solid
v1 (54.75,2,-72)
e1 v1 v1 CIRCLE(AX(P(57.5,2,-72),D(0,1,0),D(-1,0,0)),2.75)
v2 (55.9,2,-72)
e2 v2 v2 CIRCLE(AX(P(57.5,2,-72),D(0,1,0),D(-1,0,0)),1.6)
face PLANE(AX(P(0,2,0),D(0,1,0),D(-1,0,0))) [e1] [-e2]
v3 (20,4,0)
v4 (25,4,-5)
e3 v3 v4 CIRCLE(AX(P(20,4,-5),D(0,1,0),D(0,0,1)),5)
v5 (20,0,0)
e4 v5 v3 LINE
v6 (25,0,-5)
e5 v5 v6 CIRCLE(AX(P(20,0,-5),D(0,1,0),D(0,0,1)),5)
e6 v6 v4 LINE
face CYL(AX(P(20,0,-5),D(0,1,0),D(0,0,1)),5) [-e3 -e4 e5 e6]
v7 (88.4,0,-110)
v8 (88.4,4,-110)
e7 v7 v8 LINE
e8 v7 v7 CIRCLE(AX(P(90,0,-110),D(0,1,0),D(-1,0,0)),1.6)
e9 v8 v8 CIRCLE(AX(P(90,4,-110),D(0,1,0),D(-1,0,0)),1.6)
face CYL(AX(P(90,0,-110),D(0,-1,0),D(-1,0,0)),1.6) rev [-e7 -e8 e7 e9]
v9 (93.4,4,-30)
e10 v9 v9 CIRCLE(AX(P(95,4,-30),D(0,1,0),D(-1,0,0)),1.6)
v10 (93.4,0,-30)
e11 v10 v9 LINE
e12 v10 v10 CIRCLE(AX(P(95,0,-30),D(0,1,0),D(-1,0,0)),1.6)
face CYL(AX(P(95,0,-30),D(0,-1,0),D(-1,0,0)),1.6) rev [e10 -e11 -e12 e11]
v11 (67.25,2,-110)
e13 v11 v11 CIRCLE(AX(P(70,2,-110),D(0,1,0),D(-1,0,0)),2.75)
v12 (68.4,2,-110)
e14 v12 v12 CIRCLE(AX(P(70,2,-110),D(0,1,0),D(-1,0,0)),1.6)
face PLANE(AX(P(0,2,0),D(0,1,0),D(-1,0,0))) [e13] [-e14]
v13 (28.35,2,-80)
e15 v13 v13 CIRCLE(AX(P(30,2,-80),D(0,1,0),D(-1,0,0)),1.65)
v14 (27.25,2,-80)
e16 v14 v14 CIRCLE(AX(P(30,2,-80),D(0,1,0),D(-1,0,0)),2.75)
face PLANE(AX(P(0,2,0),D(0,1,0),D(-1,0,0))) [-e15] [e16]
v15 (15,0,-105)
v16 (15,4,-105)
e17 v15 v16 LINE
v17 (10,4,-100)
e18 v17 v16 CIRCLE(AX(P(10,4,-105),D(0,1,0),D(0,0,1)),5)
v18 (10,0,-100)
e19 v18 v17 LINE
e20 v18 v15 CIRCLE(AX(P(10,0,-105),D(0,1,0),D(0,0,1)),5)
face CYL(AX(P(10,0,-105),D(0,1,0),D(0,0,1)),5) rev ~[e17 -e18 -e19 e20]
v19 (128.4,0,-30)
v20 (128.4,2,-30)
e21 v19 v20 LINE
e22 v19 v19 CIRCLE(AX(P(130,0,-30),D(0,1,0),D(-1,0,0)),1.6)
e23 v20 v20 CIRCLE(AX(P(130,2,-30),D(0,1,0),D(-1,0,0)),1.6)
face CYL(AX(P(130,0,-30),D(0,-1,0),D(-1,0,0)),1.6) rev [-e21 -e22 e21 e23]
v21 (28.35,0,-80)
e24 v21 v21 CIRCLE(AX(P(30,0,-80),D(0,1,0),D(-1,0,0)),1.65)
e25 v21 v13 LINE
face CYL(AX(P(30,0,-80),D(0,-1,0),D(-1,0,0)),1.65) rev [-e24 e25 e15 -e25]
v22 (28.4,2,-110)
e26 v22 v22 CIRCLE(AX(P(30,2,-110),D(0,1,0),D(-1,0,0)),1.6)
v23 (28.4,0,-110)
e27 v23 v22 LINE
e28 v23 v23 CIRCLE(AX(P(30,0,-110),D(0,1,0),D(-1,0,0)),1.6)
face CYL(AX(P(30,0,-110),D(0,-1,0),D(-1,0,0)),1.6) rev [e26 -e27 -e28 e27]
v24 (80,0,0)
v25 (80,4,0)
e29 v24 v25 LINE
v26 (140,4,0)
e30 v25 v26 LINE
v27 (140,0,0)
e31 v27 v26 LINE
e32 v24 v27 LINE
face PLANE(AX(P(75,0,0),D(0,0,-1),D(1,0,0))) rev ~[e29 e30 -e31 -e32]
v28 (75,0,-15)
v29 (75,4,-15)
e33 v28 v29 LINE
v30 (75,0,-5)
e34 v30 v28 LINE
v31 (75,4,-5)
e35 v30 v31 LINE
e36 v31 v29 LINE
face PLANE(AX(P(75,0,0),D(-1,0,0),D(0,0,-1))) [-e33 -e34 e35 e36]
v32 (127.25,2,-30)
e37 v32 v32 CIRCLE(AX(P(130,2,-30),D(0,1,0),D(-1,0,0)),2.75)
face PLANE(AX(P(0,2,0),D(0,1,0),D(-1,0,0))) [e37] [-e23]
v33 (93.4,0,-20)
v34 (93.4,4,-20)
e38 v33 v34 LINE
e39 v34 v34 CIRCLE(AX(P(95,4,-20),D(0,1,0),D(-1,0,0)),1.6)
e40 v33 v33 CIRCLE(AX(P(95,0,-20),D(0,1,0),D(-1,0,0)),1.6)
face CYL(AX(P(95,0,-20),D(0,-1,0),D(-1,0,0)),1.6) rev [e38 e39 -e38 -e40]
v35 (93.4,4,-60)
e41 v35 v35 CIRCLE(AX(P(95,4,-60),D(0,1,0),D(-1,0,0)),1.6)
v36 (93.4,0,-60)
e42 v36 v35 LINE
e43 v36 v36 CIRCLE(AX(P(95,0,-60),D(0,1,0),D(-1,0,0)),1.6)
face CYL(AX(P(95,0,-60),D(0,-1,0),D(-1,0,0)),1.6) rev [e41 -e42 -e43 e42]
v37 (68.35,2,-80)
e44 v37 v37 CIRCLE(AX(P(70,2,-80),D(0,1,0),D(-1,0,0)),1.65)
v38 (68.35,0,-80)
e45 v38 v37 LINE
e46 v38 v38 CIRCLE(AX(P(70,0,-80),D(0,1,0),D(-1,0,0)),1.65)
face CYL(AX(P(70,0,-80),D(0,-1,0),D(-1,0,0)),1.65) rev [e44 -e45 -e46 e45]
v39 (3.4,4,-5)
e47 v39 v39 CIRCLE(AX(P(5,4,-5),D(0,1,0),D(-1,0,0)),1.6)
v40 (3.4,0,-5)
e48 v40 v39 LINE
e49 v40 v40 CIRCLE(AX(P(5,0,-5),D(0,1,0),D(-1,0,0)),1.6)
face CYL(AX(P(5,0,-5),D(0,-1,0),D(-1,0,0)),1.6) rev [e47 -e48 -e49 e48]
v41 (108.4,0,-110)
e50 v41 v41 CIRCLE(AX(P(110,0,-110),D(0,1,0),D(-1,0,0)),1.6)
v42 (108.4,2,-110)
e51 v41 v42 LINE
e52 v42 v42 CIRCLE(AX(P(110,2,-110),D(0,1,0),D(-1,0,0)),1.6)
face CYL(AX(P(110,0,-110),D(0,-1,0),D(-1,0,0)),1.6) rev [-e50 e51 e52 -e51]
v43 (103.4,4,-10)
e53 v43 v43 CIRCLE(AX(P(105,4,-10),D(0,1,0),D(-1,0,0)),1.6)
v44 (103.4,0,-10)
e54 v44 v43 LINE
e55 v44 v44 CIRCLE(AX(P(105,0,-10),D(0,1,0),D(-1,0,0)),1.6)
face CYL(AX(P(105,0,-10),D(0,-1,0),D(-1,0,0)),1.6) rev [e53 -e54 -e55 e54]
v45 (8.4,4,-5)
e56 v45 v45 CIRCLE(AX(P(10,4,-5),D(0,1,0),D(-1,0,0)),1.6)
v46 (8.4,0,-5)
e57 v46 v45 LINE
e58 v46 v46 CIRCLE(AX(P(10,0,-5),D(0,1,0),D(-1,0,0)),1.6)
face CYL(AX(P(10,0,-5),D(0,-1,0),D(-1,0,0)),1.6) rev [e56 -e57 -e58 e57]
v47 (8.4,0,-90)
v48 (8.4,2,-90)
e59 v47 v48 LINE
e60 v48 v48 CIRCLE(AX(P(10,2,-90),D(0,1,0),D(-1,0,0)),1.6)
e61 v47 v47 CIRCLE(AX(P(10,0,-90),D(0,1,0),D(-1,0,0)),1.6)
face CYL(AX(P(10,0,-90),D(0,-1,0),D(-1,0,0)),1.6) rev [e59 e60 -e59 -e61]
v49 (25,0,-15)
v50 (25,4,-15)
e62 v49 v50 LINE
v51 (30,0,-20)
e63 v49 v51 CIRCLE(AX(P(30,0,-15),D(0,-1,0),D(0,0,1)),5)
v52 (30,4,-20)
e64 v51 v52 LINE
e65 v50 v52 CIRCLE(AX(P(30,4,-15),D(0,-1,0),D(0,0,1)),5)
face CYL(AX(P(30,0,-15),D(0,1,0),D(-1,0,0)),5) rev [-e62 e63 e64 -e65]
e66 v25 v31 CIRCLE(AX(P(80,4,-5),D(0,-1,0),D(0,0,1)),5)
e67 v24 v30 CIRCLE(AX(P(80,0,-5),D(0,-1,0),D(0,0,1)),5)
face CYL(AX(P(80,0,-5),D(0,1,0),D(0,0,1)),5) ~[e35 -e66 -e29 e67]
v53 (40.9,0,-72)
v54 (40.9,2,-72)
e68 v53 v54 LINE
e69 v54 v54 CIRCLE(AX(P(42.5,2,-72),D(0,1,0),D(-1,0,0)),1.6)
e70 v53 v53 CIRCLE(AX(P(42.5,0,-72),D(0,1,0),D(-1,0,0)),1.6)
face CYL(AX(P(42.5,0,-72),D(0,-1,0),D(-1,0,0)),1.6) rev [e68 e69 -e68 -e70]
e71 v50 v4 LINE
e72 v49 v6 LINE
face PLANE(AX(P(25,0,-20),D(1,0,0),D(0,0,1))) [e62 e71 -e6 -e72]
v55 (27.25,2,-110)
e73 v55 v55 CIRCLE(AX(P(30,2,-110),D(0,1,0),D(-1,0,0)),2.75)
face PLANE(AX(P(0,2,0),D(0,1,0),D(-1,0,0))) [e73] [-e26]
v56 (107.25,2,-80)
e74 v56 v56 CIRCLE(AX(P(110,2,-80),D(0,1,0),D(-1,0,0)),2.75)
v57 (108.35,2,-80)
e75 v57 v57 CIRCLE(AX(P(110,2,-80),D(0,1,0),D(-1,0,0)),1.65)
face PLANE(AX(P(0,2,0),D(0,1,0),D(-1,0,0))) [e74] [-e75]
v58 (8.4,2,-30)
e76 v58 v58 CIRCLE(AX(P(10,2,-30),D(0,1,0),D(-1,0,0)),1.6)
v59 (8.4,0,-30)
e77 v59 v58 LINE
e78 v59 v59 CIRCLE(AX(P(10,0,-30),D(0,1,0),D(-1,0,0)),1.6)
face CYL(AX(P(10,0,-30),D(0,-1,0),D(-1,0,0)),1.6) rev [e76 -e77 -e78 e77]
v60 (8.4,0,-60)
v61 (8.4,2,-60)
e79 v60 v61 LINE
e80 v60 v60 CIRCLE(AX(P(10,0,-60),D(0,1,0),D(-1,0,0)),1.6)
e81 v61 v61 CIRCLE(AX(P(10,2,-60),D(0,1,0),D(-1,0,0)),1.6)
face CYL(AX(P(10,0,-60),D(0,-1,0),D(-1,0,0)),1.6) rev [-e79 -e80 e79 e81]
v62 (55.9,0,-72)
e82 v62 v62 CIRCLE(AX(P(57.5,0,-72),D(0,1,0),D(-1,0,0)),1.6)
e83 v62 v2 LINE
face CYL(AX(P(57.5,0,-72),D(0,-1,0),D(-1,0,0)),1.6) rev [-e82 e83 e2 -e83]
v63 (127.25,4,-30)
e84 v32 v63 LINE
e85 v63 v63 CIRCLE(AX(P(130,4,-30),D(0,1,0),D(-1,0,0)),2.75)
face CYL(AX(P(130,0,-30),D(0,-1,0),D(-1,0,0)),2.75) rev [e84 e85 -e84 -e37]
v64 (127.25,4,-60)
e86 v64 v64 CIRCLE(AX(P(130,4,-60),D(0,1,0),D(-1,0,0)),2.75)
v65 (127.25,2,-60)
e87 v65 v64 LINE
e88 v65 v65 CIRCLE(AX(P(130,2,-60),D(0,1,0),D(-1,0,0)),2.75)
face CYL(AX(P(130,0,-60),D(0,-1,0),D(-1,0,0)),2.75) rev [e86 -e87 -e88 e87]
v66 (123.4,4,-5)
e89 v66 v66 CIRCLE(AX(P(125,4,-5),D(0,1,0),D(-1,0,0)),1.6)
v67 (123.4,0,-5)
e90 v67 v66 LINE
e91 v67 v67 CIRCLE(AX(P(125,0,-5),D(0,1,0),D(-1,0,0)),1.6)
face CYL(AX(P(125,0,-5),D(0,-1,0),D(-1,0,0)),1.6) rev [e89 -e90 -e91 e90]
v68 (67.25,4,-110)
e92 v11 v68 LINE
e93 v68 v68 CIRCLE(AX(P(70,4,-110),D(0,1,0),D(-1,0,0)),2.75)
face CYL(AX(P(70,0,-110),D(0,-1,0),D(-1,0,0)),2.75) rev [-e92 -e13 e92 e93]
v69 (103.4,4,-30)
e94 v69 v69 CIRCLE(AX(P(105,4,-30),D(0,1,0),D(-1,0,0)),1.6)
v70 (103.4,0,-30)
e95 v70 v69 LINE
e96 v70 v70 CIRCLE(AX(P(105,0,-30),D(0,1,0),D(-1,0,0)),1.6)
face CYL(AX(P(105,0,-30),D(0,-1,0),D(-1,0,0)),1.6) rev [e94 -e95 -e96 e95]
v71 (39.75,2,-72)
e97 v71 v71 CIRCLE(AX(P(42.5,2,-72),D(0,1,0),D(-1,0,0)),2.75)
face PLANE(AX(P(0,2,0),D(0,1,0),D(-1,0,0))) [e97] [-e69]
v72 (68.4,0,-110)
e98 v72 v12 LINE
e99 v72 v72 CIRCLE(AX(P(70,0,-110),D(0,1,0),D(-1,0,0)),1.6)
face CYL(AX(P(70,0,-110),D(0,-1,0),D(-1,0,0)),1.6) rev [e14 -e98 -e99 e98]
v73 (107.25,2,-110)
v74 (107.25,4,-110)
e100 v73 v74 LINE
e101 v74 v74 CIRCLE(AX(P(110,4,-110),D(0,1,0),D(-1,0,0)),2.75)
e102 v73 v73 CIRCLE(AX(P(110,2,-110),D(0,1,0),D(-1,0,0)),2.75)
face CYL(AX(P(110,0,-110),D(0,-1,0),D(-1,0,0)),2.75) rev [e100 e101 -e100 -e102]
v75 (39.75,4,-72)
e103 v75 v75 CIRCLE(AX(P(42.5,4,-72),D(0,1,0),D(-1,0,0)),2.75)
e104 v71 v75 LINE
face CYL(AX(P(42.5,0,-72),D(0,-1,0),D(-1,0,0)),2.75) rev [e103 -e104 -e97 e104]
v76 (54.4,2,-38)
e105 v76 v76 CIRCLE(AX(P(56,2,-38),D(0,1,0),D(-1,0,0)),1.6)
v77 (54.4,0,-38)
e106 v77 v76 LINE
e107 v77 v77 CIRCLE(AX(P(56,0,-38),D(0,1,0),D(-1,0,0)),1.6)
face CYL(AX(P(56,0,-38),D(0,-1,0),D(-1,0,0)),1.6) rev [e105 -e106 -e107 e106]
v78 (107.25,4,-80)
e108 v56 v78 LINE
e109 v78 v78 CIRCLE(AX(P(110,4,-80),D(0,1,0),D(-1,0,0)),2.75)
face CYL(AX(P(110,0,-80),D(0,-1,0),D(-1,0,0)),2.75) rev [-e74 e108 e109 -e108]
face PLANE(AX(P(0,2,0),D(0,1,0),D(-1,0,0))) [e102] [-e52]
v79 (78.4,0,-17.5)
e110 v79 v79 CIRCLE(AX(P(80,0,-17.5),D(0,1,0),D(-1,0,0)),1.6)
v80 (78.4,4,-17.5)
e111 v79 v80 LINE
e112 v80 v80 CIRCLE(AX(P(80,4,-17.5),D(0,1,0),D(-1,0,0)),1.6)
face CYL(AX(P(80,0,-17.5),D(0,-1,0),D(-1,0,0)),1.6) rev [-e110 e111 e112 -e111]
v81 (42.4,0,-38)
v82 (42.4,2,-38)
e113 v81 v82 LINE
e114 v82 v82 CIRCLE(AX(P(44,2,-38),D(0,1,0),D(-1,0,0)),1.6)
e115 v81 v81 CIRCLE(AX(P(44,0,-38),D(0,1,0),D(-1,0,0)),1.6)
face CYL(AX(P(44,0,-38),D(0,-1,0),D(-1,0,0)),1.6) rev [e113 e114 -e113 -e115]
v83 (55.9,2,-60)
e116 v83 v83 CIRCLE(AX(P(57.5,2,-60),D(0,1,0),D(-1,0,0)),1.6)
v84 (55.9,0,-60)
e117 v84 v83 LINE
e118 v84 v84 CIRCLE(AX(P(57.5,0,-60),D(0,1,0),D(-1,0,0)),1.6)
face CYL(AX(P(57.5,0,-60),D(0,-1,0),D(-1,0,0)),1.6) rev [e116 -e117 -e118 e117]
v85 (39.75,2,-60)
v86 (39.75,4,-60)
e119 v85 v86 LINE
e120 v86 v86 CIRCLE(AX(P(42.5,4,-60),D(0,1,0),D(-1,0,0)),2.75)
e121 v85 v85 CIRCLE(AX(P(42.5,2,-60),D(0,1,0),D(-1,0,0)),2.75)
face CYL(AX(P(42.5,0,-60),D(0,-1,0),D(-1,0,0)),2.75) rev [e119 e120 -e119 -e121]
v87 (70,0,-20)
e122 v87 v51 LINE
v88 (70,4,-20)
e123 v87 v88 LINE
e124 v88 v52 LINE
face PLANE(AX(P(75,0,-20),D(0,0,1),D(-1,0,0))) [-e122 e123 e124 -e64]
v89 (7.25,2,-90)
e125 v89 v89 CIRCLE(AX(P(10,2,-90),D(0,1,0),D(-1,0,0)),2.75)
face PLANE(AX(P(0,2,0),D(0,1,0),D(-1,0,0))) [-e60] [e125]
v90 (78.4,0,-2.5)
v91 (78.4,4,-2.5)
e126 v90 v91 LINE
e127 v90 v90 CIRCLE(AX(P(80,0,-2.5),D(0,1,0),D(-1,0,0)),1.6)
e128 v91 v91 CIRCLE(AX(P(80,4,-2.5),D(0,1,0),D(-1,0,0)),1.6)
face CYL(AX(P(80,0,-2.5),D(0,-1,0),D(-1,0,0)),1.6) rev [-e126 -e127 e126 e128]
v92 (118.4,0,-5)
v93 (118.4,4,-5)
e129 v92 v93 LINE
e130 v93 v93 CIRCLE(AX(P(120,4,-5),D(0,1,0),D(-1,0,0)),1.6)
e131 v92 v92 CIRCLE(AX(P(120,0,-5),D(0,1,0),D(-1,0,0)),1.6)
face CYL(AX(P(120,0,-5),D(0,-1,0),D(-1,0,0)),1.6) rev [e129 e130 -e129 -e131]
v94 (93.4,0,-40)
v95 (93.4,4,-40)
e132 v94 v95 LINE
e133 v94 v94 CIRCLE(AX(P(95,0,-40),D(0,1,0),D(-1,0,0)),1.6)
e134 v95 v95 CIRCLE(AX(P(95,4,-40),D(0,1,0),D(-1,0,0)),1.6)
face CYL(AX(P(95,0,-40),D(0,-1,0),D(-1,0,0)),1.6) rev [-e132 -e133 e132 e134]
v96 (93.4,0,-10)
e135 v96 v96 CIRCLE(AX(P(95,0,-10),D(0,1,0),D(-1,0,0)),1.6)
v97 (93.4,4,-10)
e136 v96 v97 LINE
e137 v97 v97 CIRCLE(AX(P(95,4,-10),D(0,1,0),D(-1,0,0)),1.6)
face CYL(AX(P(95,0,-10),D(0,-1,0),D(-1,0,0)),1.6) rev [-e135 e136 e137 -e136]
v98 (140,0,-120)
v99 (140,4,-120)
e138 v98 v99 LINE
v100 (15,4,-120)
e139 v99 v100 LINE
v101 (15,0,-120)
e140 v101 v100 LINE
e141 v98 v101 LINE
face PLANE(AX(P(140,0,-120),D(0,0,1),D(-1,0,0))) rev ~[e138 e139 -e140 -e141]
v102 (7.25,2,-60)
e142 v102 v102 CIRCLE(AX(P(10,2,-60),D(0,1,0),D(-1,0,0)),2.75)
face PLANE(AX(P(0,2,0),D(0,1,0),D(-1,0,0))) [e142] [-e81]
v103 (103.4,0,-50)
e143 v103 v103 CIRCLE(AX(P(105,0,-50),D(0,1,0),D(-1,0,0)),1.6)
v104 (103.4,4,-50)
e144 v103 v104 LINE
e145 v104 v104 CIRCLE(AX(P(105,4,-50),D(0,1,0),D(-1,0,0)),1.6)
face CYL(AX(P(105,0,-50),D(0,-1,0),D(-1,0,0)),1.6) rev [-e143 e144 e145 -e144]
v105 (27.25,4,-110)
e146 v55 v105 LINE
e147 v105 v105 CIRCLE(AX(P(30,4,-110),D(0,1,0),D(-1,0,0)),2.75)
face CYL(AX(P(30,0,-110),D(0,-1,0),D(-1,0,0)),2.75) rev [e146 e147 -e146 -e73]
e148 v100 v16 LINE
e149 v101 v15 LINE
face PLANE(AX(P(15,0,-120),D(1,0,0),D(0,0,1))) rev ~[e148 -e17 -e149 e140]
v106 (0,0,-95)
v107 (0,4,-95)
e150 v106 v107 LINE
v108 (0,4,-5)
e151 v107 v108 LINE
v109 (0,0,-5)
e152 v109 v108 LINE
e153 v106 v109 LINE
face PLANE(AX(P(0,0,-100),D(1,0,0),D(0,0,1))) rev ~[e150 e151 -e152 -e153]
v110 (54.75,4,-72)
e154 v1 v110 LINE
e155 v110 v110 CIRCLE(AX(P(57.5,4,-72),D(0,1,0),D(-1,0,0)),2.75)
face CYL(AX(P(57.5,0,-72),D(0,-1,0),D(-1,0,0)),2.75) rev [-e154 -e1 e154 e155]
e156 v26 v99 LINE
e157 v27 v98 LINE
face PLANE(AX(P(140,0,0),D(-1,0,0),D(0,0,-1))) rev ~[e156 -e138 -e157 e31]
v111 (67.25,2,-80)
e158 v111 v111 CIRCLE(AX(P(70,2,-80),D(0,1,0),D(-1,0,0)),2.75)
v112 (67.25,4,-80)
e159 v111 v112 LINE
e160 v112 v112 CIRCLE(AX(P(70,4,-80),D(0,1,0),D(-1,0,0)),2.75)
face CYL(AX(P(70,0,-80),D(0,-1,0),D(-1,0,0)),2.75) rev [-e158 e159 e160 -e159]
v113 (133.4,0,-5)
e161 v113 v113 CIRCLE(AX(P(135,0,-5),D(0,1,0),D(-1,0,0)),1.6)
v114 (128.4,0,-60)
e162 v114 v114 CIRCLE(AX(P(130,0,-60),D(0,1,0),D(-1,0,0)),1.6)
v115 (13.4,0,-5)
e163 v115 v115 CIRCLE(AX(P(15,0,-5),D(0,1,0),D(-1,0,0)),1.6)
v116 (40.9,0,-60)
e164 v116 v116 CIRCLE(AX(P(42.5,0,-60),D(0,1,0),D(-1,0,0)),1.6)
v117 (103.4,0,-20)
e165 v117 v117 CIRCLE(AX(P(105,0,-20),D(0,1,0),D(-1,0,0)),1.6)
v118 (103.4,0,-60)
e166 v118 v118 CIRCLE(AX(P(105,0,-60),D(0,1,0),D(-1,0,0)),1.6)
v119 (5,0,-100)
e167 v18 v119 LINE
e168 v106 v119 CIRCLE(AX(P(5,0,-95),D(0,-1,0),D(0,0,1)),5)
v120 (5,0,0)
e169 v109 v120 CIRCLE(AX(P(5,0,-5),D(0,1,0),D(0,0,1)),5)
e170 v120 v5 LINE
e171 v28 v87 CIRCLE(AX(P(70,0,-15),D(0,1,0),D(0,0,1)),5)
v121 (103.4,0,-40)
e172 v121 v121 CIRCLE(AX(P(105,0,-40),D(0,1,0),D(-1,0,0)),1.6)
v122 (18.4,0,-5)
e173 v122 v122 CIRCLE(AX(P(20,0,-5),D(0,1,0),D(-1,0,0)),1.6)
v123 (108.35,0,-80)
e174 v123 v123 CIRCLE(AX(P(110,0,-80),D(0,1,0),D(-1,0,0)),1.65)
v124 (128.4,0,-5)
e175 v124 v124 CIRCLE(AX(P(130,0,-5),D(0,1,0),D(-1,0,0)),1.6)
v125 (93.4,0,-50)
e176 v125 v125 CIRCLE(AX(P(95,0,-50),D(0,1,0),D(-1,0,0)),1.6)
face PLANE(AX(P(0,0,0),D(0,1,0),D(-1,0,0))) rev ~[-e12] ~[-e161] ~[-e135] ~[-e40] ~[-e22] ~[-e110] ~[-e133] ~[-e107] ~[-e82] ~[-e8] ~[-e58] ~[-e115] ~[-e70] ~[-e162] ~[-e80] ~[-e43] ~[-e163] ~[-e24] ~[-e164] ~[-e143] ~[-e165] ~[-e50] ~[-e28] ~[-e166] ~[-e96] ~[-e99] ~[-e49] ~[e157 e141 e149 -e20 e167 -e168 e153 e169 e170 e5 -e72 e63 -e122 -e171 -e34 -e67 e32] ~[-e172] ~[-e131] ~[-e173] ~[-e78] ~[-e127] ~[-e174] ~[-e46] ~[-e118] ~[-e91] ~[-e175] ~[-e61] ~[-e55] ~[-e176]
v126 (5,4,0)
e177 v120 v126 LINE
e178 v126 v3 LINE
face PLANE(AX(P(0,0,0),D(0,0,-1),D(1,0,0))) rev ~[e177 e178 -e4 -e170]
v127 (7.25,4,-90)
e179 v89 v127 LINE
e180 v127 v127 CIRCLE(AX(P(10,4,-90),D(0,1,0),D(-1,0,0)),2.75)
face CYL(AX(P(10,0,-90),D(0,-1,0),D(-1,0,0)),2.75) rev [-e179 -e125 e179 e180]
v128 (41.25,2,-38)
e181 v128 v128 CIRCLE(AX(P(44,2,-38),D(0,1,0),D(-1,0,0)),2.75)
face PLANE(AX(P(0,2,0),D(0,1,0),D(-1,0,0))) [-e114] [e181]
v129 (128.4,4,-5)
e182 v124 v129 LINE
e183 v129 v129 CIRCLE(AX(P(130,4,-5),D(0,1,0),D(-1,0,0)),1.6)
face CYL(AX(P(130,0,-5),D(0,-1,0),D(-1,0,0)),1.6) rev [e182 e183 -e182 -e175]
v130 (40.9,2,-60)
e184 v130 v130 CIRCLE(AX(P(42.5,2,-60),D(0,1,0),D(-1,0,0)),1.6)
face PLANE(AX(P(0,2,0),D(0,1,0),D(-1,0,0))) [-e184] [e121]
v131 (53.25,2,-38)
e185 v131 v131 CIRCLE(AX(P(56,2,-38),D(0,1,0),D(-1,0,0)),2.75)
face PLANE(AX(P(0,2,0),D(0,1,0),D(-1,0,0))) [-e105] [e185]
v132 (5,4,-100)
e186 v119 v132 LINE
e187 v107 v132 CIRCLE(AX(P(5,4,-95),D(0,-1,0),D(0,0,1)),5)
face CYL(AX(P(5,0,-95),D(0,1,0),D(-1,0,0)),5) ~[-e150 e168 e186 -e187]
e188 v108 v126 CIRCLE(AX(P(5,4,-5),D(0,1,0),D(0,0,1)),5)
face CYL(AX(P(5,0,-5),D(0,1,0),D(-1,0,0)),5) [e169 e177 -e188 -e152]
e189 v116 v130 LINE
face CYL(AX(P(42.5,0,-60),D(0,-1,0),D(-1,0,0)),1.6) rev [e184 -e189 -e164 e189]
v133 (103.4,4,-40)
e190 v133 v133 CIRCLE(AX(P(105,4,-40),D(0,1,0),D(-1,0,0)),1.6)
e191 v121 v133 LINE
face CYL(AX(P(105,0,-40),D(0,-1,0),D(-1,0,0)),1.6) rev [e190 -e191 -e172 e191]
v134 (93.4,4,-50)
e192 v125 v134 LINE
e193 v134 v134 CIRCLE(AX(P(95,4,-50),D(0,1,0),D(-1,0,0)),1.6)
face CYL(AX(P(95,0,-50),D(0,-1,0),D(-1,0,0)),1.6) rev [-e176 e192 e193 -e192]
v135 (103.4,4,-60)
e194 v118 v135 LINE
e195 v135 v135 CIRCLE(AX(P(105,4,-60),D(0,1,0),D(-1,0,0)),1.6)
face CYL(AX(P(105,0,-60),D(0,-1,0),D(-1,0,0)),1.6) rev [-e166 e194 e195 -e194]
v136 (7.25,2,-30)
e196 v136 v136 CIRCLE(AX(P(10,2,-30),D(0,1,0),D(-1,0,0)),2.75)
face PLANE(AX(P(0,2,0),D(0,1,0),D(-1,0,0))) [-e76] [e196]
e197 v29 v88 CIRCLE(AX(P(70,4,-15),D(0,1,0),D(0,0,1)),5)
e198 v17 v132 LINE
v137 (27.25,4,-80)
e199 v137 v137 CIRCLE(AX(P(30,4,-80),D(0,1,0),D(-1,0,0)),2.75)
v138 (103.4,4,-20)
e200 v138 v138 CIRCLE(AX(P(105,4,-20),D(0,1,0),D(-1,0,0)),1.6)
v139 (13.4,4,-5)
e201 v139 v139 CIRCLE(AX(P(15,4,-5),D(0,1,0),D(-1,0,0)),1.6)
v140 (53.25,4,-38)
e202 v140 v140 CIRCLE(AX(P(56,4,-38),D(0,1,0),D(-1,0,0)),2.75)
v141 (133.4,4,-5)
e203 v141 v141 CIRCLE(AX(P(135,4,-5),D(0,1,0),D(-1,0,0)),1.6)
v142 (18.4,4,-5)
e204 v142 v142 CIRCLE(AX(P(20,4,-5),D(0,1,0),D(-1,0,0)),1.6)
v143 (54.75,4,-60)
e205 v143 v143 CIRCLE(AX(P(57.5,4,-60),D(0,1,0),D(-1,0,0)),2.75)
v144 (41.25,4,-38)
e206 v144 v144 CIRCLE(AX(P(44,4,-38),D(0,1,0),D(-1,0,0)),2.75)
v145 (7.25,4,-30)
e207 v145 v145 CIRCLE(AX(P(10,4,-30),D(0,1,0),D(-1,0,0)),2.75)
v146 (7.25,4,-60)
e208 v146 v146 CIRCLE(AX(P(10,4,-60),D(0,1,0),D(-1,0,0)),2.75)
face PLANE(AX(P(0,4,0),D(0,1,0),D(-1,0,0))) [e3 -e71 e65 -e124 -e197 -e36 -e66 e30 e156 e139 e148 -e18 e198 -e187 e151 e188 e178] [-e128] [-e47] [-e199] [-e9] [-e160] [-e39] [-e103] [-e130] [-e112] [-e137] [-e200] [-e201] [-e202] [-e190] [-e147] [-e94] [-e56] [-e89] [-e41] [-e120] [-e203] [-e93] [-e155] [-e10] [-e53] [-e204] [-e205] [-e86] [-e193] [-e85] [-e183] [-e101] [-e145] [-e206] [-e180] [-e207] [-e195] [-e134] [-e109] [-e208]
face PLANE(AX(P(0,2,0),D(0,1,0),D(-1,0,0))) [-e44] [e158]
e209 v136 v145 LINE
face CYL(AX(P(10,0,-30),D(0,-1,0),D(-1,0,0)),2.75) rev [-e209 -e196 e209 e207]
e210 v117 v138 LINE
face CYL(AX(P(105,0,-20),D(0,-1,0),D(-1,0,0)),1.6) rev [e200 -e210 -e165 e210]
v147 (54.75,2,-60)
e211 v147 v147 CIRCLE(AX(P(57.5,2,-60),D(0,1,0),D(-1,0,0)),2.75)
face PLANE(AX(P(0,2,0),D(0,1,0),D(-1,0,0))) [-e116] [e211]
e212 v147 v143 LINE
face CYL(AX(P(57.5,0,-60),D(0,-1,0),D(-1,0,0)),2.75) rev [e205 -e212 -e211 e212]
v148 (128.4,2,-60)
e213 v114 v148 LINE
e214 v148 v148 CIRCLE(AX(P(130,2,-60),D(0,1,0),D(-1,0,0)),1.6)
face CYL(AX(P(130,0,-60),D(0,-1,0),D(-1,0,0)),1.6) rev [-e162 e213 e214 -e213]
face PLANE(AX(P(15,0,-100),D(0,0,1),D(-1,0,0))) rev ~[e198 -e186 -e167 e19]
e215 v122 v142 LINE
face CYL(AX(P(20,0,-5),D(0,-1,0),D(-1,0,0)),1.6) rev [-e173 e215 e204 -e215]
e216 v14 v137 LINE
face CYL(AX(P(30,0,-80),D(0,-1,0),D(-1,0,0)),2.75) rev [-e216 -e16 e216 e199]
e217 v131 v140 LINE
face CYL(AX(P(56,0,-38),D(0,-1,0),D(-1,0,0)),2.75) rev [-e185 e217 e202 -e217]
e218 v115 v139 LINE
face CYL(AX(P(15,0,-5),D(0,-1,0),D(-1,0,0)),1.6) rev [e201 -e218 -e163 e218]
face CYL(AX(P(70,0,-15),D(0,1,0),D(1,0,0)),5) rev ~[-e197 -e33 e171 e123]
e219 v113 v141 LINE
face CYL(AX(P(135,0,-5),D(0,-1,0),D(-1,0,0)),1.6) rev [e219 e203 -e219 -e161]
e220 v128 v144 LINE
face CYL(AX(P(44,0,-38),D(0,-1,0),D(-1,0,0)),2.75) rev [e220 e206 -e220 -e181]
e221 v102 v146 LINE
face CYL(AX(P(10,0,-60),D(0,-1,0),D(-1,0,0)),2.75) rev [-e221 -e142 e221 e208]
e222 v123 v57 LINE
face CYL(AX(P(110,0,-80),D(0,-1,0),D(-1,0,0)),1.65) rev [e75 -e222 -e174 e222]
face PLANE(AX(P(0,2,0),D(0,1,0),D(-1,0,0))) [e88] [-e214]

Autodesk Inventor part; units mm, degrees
ref_plane "YZ Plane" through (0, 0, 0) normal (1, 0, 0) x (0, 1, 0)
ref_plane "XZ Plane" through (0, 0, 0) normal (0, 1, 0) x (-1, 0, 0)
ref_plane "XY Plane" through (0, 0, 0) normal (0, 0, 1) x (1, 0, 0)
sketch "Sketch1" plane through (0, 0, 0) normal (0, 1, 0) x (-1, 0, 0)
  line L0 (0, 0) -> (-140, 0)
  line L1 (-140, 0) -> (-140, -120)
  line L2 (-140, -120) -> (0, -120)
  line L3 (0, -120) -> (0, 0)
  line L4 (-25, 0) -> (-75, 0)
  line L5 (-75, 0) -> (-75, -20)
  line L6 (-75, -20) -> (-25, -20)
  line L7 (-25, -20) -> (-25, 0)
  circle A0 centre (-5, -5) radius 1.6
  circle A1 centre (-10, -5) radius 1.6
  circle A2 centre (-15, -5) radius 1.6
  circle A3 centre (-20, -5) radius 1.6
  circle A4 centre (-130, -30) radius 1.6
  line L8 (0, -60) -> (-140, -60) construction
  line L9 (-70, -120) -> (-70, 0) construction
  circle A5 centre (-135, -5) radius 1.6
  circle A6 centre (-130, -5) radius 1.6
  circle A7 centre (-125, -5) radius 1.6
  circle A8 centre (-120, -5) radius 1.6
  circle A9 centre (-130, -60) radius 1.6
  circle A10 centre (-130, -30) radius 2.75
  circle A11 centre (-130, -60) radius 2.75
  circle A12 centre (-5, -115) radius 1.6
  circle A13 centre (-10, -115) radius 1.6
  circle A14 centre (-30, -110) radius 1.6
  circle A15 centre (-30, -110) radius 2.75
  circle A16 centre (-110, -110) radius 1.6
  circle A17 centre (-110, -110) radius 2.75
  circle A18 centre (-70, -110) radius 1.6
  circle A19 centre (-70, -110) radius 2.75
  circle A20 centre (-44, -38) radius 1.6
  circle A21 centre (-44, -38) radius 2.75
  circle A22 centre (-56, -38) radius 1.6
  circle A23 centre (-56, -38) radius 2.75
  circle A24 centre (-57.5, -60) radius 1.6
  circle A25 centre (-57.5, -60) radius 2.75
  circle A26 centre (-57.5, -72) radius 1.6
  circle A27 centre (-57.5, -72) radius 2.75
  circle A28 centre (-42.5, -60) radius 1.6
  circle A29 centre (-42.5, -60) radius 2.75
  circle A30 centre (-42.5, -72) radius 1.6
  circle A31 centre (-42.5, -72) radius 2.75
  circle A32 centre (-10, -30) radius 1.6
  circle A33 centre (-10, -60) radius 1.6
  circle A34 centre (-10, -30) radius 2.75
  circle A35 centre (-10, -60) radius 2.75
  circle A36 centre (-10, -90) radius 1.6
  circle A37 centre (-10, -90) radius 2.75
  circle A38 centre (-80, -2.5) radius 1.6
  circle A39 centre (-80, -17.5) radius 1.6
  circle A40 centre (-105, -10) radius 1.6
  circle A41 centre (-105, -20) radius 1.6
  circle A42 centre (-95, -20) radius 1.6
  circle A43 centre (-95, -10) radius 1.6
  circle A44 centre (-95, -30) radius 1.6
  circle A45 centre (-95, -40) radius 1.6
  circle A46 centre (-105, -30) radius 1.6
  circle A47 centre (-105, -40) radius 1.6
  circle A48 centre (-95, -50) radius 1.6
  circle A49 centre (-95, -60) radius 1.6
  circle A50 centre (-105, -50) radius 1.6
  circle A51 centre (-105, -60) radius 1.6
  circle A52 centre (-110, -80) radius 1.65
  circle A53 centre (-110, -80) radius 2.75
  circle A54 centre (-70, -80) radius 1.65
  circle A55 centre (-70, -80) radius 2.75
  circle A56 centre (-30, -80) radius 1.65
  circle A57 centre (-30, -80) radius 2.75
  line L10 (0, -120) -> (-15, -120)
  line L11 (-15, -120) -> (-15, -100)
  line L12 (-15, -100) -> (0, -100)
  line L13 (0, -100) -> (0, -120)
  circle A58 centre (-90, -110) radius 1.6
  point P0 (-50, -38)
  point P1 (-50, -74.6125)
  dimension "d0" = 140
  dimension "d1" = 120
  dimension "d2" = 50
  dimension "d3" = 20
  dimension "d4" = 25
  dimension "d5" = 3.2
  dimension "d6" = 5
  dimension "d7" = 5
  dimension "d8" = 3.2
  dimension "d9" = 5
  dimension "d10" = 3.2
  dimension "d11" = 5
  dimension "d12" = 3.2
  dimension "d13" = 5
  dimension "d14" = 3.2
  dimension "d15" = 10
  dimension "d16" = 30
  dimension "d17" = 3.2
  dimension "d18" = 5.5
  dimension "d19" = 5.5
  dimension "d20" = 3.2
  dimension "d22" = 5.5
  dimension "d23" = 3.2
  dimension "d24" = 5.5
  dimension "d28" = 3.2
  dimension "d30" = 5.5
  dimension "d34" = 3.2
  dimension "d37" = 5.5
  dimension "d42" = 30
  dimension "d43" = 10
  dimension "d44" = 10
  dimension "d46" = 10
  dimension "d47" = 3.2
  dimension "d48" = 5
  dimension "d49" = 2.5
  dimension "d50" = 3.2
  dimension "d51" = 15
  dimension "d52" = 3.2
  dimension "d53" = 3.2
  dimension "d54" = 10
  dimension "d55" = 3.2
  dimension "d56" = 10
  dimension "d57" = 3.2
  dimension "d58" = 20
  dimension "d59" = 10
  dimension "d60" = 10
  dimension "d61" = 3.2
  dimension "d62" = 10
  dimension "d63" = 3.2
  dimension "d64" = 10
  dimension "d65" = 3.2
  dimension "d66" = 3.2
  dimension "d67" = 3.2
  dimension "d68" = 10
  dimension "d69" = 3.2
  dimension "d70" = 10
  dimension "d71" = 3.2
  dimension "d72" = 3.2
  dimension "d73" = 3.3
  dimension "d74" = 5.5
  dimension "d76" = 3.3
  dimension "d77" = 5.5
  dimension "d78" = 30
  dimension "d79" = 30
extrude "Extrusion1" add sketch "Sketch1" along normal blind 4 contours L3 L12 L11 L2 L1 L0 L5 L6 L7
extrude "Extrusion2" add sketch "Sketch1" along normal blind 2 contours A10 | A11 | A15 | A17 | A19 | A21 | A23 | A25 | A27 | A29 | A31 | A34 | A35 | A37 | A53 | A55 | A57
fillet "Fillet1" radius 5 7 edges at (15, 2, -100) (0, 2, -100) (75, 2, 0) (25, 2, 0) (0, 2, 0) (75, 2, -20) (25, 2, -20)
properties part number "Fix Casis Kiri Depan_3DPrint"
